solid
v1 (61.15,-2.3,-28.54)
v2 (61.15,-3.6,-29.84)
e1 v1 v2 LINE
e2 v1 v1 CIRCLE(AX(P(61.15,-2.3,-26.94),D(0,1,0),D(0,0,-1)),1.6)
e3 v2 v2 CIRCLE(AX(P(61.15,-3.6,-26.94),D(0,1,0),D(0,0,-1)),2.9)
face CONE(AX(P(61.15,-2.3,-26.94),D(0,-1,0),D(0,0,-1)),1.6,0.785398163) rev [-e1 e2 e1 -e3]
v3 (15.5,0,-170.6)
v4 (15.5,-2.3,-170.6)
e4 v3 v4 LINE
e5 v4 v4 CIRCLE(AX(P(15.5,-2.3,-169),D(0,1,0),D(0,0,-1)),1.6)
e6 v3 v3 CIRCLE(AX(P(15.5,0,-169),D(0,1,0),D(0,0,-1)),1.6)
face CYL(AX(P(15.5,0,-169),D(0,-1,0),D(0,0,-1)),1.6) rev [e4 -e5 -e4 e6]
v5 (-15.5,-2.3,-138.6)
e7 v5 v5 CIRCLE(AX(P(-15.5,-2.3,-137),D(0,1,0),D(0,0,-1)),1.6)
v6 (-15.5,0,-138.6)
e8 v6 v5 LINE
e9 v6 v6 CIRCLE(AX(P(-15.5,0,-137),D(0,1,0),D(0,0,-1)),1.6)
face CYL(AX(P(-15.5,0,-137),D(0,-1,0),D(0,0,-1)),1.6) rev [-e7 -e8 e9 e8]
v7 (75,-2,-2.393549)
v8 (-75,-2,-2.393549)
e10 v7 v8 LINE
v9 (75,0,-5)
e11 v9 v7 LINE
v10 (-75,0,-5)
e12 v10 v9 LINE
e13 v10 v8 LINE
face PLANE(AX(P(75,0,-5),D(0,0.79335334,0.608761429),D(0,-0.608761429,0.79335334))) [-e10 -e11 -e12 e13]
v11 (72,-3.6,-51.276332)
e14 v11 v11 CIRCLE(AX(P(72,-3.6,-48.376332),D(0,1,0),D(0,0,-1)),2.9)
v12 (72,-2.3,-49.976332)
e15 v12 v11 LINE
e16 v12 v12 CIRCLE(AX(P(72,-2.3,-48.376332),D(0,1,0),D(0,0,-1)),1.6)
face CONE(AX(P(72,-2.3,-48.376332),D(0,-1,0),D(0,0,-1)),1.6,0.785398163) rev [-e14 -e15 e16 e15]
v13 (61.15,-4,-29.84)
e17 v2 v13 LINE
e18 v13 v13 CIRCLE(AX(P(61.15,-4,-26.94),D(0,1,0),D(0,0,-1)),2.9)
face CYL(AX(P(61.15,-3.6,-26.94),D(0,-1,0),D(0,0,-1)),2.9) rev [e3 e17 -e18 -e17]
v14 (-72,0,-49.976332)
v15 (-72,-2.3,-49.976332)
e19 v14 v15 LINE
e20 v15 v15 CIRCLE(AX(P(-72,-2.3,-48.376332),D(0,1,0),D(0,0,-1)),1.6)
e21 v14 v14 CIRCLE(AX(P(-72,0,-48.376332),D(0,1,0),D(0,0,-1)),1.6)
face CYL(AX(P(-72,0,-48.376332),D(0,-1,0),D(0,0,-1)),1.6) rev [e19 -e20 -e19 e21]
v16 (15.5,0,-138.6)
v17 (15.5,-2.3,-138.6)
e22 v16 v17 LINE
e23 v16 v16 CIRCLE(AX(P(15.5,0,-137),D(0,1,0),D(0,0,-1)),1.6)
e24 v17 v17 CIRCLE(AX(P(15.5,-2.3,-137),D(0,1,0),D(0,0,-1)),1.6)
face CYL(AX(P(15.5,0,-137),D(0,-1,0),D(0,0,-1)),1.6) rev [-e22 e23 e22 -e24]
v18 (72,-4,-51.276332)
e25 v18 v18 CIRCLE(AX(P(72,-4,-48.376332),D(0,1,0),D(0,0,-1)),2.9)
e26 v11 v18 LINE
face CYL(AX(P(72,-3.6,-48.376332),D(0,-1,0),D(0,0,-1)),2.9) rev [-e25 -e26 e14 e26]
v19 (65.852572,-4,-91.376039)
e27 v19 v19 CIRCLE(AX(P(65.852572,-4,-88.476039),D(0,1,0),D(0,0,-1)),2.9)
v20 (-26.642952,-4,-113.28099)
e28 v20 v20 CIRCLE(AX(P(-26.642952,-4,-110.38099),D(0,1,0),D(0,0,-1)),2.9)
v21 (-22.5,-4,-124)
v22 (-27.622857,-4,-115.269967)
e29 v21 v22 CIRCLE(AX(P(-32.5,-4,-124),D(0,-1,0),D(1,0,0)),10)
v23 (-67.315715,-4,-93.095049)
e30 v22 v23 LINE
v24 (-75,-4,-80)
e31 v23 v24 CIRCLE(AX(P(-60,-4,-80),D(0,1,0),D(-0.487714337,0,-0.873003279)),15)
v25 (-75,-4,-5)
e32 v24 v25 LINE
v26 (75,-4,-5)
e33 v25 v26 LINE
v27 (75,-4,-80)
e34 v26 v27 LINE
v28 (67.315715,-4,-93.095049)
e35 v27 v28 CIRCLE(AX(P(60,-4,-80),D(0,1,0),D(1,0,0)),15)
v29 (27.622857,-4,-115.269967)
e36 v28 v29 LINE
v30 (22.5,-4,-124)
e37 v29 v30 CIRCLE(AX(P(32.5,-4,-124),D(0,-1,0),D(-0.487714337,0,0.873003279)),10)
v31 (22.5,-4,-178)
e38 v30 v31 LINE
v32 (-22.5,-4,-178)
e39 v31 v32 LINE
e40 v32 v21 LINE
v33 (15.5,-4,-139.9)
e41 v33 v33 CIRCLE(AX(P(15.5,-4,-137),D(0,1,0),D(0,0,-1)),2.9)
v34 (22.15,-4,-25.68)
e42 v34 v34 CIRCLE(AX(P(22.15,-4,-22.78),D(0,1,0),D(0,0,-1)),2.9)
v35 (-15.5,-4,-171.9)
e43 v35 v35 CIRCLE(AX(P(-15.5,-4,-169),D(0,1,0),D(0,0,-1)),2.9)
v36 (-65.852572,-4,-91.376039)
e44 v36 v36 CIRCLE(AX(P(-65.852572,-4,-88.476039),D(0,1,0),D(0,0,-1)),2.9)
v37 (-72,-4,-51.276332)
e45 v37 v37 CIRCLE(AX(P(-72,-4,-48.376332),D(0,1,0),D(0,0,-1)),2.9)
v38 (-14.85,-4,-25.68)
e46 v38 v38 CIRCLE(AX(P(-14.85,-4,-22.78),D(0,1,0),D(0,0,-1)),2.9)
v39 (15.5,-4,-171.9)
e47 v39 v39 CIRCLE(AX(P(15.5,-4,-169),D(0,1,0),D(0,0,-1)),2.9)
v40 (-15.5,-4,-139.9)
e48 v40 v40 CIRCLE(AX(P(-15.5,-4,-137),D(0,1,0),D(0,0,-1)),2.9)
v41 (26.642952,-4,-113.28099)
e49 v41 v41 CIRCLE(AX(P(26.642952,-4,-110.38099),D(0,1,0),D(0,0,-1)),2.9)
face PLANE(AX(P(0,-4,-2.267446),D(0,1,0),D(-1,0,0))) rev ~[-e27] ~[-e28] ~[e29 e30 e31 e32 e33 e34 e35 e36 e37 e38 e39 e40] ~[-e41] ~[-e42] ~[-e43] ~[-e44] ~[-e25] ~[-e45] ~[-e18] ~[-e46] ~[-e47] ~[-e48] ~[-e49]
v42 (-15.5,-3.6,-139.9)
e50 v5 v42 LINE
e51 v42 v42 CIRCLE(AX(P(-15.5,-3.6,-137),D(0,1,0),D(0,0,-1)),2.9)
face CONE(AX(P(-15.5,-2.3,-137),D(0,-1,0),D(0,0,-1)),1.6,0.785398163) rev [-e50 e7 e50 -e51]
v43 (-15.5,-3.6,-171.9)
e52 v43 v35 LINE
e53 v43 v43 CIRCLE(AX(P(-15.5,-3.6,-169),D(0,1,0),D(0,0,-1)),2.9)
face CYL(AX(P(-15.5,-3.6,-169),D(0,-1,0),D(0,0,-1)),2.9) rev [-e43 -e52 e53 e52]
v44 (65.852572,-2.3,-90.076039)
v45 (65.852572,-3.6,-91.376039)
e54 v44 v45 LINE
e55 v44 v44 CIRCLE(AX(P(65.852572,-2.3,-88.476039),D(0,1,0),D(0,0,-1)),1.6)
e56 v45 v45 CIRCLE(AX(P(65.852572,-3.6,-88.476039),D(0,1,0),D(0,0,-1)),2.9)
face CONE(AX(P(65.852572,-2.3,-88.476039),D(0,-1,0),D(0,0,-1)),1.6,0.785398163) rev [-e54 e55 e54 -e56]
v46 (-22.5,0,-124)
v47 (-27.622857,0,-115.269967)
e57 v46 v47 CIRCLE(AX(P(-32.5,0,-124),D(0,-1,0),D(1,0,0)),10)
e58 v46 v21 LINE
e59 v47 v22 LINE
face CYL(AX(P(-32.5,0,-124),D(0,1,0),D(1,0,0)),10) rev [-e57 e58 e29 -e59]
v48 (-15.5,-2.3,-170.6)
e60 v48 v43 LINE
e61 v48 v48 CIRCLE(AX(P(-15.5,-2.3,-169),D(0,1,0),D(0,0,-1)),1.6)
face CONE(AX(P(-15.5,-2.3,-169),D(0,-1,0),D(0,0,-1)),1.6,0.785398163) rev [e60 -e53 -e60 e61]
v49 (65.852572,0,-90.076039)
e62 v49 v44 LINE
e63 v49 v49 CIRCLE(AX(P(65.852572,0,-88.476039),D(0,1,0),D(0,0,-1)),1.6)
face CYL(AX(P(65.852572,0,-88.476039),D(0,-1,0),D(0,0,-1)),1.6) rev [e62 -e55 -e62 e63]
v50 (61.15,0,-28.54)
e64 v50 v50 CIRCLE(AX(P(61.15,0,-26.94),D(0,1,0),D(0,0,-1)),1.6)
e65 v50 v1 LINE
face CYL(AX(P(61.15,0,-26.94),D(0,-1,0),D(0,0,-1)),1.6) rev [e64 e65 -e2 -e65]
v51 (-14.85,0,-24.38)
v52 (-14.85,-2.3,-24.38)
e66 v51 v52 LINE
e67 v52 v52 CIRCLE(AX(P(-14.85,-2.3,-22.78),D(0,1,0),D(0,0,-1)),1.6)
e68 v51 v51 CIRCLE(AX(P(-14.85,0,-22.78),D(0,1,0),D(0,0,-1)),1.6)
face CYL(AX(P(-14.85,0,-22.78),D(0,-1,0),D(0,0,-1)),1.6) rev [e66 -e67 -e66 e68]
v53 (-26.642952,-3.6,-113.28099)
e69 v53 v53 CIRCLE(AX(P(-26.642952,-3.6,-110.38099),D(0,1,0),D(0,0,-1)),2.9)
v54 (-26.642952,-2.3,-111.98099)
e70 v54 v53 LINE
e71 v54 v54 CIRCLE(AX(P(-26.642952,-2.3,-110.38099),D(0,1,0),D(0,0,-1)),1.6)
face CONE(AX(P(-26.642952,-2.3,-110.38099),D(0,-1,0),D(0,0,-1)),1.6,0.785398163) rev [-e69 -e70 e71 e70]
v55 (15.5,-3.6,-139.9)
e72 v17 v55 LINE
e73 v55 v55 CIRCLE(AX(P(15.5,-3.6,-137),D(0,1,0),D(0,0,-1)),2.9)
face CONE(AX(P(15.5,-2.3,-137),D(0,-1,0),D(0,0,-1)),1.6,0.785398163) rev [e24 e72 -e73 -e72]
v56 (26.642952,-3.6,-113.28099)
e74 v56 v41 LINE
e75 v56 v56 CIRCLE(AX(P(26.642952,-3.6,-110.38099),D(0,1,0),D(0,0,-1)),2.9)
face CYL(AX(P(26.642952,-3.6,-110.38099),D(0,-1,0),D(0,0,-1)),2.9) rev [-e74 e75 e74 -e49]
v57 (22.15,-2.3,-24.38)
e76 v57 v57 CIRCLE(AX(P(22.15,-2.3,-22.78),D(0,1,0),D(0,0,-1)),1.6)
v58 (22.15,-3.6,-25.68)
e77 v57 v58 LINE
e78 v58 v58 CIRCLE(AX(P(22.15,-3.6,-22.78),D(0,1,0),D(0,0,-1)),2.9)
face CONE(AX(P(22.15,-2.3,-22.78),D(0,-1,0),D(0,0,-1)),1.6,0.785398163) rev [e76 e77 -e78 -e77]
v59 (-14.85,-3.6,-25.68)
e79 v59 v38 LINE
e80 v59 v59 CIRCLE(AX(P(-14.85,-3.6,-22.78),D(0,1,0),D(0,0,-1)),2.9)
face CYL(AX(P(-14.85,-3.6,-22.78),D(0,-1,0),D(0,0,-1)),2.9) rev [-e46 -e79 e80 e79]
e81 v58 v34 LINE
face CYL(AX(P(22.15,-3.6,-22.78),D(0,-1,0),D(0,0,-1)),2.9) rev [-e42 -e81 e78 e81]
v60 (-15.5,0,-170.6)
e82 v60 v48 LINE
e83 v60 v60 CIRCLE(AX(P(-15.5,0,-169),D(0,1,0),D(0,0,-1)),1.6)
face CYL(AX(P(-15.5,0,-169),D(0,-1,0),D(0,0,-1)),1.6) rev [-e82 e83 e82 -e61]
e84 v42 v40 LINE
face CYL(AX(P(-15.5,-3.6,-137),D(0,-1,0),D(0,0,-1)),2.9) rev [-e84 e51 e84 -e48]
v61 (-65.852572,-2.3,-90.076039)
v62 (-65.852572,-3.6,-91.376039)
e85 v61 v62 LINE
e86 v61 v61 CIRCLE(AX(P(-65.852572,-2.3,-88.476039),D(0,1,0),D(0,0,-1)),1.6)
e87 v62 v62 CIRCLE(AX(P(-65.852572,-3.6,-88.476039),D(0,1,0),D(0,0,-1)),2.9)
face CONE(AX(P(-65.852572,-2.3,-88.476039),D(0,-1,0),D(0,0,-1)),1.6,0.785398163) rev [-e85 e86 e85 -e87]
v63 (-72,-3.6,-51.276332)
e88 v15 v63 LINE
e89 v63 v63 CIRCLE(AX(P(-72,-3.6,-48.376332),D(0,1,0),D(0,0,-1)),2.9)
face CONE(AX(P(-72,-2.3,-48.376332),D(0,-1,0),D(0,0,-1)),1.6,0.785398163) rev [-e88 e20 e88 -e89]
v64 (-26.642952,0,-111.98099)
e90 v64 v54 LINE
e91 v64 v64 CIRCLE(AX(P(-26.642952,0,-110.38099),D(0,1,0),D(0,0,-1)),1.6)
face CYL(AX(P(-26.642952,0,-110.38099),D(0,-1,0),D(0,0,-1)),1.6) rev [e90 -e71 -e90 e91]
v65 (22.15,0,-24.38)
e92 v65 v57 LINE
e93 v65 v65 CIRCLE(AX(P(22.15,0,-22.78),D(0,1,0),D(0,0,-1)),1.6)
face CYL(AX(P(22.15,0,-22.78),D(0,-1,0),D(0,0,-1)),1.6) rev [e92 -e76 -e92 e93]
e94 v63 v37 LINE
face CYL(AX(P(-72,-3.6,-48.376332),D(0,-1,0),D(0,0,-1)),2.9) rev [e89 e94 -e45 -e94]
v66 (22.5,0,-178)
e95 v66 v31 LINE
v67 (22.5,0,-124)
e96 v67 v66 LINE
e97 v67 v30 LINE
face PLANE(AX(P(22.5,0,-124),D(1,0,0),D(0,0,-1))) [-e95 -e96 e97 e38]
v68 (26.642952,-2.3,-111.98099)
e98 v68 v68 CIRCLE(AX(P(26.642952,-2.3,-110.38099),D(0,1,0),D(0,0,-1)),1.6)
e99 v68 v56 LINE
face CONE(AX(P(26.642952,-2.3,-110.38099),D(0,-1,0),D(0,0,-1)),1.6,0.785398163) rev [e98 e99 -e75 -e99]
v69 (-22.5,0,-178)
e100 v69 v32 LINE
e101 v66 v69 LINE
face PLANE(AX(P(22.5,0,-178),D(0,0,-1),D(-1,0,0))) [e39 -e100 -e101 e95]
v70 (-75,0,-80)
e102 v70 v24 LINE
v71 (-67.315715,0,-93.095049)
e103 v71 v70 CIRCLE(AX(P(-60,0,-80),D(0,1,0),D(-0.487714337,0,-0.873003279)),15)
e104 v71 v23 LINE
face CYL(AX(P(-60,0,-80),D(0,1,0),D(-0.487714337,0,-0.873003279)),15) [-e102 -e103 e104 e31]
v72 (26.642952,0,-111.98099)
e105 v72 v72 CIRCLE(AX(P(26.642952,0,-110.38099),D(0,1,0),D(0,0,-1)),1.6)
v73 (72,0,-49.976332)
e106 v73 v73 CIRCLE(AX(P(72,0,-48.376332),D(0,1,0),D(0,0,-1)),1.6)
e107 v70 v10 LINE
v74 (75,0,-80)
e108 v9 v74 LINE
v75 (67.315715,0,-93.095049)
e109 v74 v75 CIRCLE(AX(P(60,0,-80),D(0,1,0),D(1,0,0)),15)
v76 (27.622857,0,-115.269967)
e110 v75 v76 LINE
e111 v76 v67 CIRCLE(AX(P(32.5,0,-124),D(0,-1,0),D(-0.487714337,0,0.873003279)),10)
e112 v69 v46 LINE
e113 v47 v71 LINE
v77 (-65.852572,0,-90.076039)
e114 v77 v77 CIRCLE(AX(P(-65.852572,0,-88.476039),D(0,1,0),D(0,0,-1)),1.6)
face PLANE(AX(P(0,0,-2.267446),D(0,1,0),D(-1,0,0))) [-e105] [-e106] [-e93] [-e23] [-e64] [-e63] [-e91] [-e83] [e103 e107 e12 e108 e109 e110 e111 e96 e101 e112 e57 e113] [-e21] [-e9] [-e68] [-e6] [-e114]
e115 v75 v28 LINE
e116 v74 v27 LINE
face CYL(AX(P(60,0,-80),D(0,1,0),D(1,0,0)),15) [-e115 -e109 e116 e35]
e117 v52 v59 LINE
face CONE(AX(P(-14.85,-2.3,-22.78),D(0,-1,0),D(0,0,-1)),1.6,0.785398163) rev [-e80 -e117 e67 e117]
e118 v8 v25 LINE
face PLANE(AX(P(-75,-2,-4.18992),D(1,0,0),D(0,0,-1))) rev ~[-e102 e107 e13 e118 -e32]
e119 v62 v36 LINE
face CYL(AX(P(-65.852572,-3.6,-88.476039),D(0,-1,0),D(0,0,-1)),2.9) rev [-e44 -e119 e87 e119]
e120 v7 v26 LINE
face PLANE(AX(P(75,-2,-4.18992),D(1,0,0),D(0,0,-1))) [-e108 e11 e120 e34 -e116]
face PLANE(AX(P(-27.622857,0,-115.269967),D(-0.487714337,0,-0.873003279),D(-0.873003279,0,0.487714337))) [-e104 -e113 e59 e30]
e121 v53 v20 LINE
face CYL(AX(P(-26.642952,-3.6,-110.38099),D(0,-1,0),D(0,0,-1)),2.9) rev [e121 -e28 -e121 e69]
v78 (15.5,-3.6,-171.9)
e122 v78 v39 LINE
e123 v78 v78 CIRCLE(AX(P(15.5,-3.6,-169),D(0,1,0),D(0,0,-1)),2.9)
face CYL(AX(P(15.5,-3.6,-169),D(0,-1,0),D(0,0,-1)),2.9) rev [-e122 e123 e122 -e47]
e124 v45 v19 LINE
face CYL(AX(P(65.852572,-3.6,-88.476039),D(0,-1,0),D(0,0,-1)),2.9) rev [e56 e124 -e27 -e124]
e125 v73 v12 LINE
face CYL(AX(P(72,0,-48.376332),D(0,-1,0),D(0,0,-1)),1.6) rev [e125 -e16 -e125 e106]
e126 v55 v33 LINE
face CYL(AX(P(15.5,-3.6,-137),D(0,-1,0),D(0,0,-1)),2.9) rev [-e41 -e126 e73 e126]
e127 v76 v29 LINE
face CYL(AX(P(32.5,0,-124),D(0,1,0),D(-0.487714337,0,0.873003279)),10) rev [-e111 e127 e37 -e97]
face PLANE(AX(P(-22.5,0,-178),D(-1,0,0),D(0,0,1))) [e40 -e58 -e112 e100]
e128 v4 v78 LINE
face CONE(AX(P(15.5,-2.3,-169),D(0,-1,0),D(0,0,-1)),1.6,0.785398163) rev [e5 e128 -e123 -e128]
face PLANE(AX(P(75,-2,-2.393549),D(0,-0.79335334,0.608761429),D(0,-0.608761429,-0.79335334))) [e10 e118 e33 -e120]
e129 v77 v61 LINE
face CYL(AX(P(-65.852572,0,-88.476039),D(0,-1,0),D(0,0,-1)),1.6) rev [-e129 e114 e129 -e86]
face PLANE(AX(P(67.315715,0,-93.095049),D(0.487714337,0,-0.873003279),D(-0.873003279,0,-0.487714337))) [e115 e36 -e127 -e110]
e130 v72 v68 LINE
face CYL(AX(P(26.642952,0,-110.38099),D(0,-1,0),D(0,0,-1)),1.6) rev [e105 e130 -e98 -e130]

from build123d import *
from build123d.topology import SkipClean

# Parameters (mm, degrees)
BOSS_EXTRU_1_DEPTH                          = 4
FRAISAGE_POUR_VIS_T_TE_FRAIS_E_M31_AT_COUNT = 2
FRAISAGE_POUR_VIS_T_TE_FRAIS_E_M31_AT_PITCH = 37
FRAISAGE_POUR_VIS_T_TE_FRAIS_E_M31_2_COUNT  = 2
FRAISAGE_POUR_VIS_T_TE_FRAIS_E_M31_2_PITCH  = 76.249233439
FRAISAGE_POUR_VIS_T_TE_FRAIS_E_M31_3_COUNT  = 2
FRAISAGE_POUR_VIS_T_TE_FRAIS_E_M31_3_PITCH  = 84.163802195
FRAISAGE_POUR_VIS_T_TE_FRAIS_E_M31_4_COUNT  = 2
FRAISAGE_POUR_VIS_T_TE_FRAIS_E_M31_4_PITCH  = 48.918299235
FRAISAGE_POUR_VIS_T_TE_FRAIS_E_M31_5_COUNT  = 2
FRAISAGE_POUR_VIS_T_TE_FRAIS_E_M31_5_PITCH  = 32
FRAISAGE_POUR_VIS_T_TE_FRAIS_E_M31_6_COUNT  = 2
FRAISAGE_POUR_VIS_T_TE_FRAIS_E_M31_6_PITCH  = 146.221444734
FRAISAGE_POUR_VIS_T_TE_FRAIS_E_M31_7_COUNT  = 2
FRAISAGE_POUR_VIS_T_TE_FRAIS_E_M31_7_PITCH  = 149.336569199
FRAISAGE_POUR_VIS_T_TE_FRAIS_E_M31_8_COUNT  = 2
FRAISAGE_POUR_VIS_T_TE_FRAIS_E_M31_8_PITCH  = 178.221185329
FRAISAGE_POUR_VIS_T_TE_FRAIS_E_M31_9_COUNT  = 2
FRAISAGE_POUR_VIS_T_TE_FRAIS_E_M31_9_PITCH  = 180.785759671
FRAISAGE_POUR_VIS_T_TE_FRAIS_E_M31_10_COUNT = 2
FRAISAGE_POUR_VIS_T_TE_FRAIS_E_M31_10_PITCH = 93.722010844
FRAISAGE_POUR_VIS_T_TE_FRAIS_E_M31_11_COUNT = 2
FRAISAGE_POUR_VIS_T_TE_FRAIS_E_M31_11_PITCH = 71.254220114
FRAISAGE_POUR_VIS_T_TE_FRAIS_E_M31_12_COUNT = 2
FRAISAGE_POUR_VIS_T_TE_FRAIS_E_M31_12_PITCH = 81.138523202
FRAISAGE_POUR_VIS_T_TE_FRAIS_E_M31_13_COUNT = 2
FRAISAGE_POUR_VIS_T_TE_FRAIS_E_M31_13_PITCH = 110.207887466
FRAISAGE_POUR_VIS_T_TE_FRAIS_E_M31_14_COUNT = 2
FRAISAGE_POUR_VIS_T_TE_FRAIS_E_M31_14_PITCH = 120.180990857
FRAISAGE_POUR_VIS_T_TE_FRAIS_E_M31_15_COUNT = 2
FRAISAGE_POUR_VIS_T_TE_FRAIS_E_M31_15_PITCH = 126.594083229
FRAISAGE_POUR_VIS_T_TE_FRAIS_E_M31_16_COUNT = 2
FRAISAGE_POUR_VIS_T_TE_FRAIS_E_M31_16_PITCH = 126.717880504
FRAISAGE_POUR_VIS_T_TE_FRAIS_E_M31_17_COUNT = 2
FRAISAGE_POUR_VIS_T_TE_FRAIS_E_M31_17_PITCH = 104.212570966
FRAISAGE_POUR_VIS_T_TE_FRAIS_E_M31_18_COUNT = 2
FRAISAGE_POUR_VIS_T_TE_FRAIS_E_M31_18_PITCH = 111.926492077
FRAISAGE_POUR_VIS_T_TE_FRAIS_E_M31_19_COUNT = 2
FRAISAGE_POUR_VIS_T_TE_FRAIS_E_M31_19_PITCH = 96.715892614
FRAISAGE_POUR_VIS_T_TE_FRAIS_E_M31_20_COUNT = 2
FRAISAGE_POUR_VIS_T_TE_FRAIS_E_M31_20_PITCH = 72.361814356
FRAISAGE_POUR_VIS_T_TE_FRAIS_E_M31_21_COUNT = 2
FRAISAGE_POUR_VIS_T_TE_FRAIS_E_M31_21_PITCH = 80.151308017
FRAISAGE_POUR_VIS_T_TE_FRAIS_E_M31_22_COUNT = 2
FRAISAGE_POUR_VIS_T_TE_FRAIS_E_M31_22_PITCH = 87.174955693
FRAISAGE_POUR_VIS_T_TE_FRAIS_E_M31_23_COUNT = 2
FRAISAGE_POUR_VIS_T_TE_FRAIS_E_M31_23_PITCH = 57.642630925
FRAISAGE_POUR_VIS_T_TE_FRAIS_E_M31_24_COUNT = 2
FRAISAGE_POUR_VIS_T_TE_FRAIS_E_M31_24_PITCH = 91.32999562
FRAISAGE_POUR_VIS_T_TE_FRAIS_E_M31_25_COUNT = 2
FRAISAGE_POUR_VIS_T_TE_FRAIS_E_M31_25_PITCH = 70.407159437
ENL_V_MAT_EXTRU_1_REACH                     = 195.197
ESQUISSE7_W                                 = 176.3
ESQUISSE7_H                                 = 4
ENL_V_MAT_EXTRU_1_DIRECTION_2_REACH         = 195.197
BOSS_EXTRU_2_DEPTH                          = 150


with BuildPart() as part:
    # Esquisse1 → Boss.-Extru.1 (new body)
    with BuildSketch(Plane.XZ):
        with BuildLine():
            Line((22.5, 171.3), (22.5, 117.3))
            ThreePointArc((22.5, 117.3), (24.261102018, 111.632499665), (28.924112009, 107.961208586))
            Line((28.924112009, 107.961208586), (65.363831986, 94.008187121))
            ThreePointArc((65.363831986, 94.008187121), (72.358346973, 88.501250502), (75, 80))
            Line((75, 80), (75, -80))
            ThreePointArc((75, -80), (72.937073199, -87.591583303), (67.31571506, -93.095049185))
            Line((67.31571506, -93.095049185), (27.622856627, -115.26996721))
            ThreePointArc((27.622856627, -115.26996721), (23.875284534, -118.938944464), (22.5, -124))
            Line((22.5, -124), (22.5, -178))
            Line((22.5, -178), (-22.5, -178))
            Line((-22.5, -178), (-22.5, -124))
            ThreePointArc((-22.5, -124), (-23.875284534, -118.938944464), (-27.622856627, -115.26996721))
            Line((-27.622856627, -115.26996721), (-67.31571506, -93.095049185))
            ThreePointArc((-67.31571506, -93.095049185), (-72.937073199, -87.591583303), (-75, -80))
            Line((-75, -80), (-75, 80))
            ThreePointArc((-75, 80), (-72.358346973, 88.501250502), (-65.363831986, 94.008187121))
            Line((-65.363831986, 94.008187121), (-28.924112009, 107.961208586))
            ThreePointArc((-28.924112009, 107.961208586), (-24.261102018, 111.632499665), (-22.5, 117.3))
            Line((-22.5, 117.3), (-22.5, 171.3))
            Line((-22.5, 171.3), (22.5, 171.3))
        make_face()
    extrude(amount=BOSS_EXTRU_1_DEPTH)

    # Esquisse2 → Fraisage pour vis à tête fraisée M31 (revolve, cut)
    with BuildSketch(Plane(origin=(-14.85, -4, 9.22), x_dir=(0, 0, -1), z_dir=(1, 0, 0))):
        Polygon((0, 0), (0, 4), (1.6, 4), (1.6, 1.7), (2.9, 0.4), (2.9, 0), align=None)
    fraisage_pour_vis_t_te_frais_e_m31 = revolve(axis=Axis((-14.85, -10.35, 9.22), (0, 1, 0)), mode=Mode.SUBTRACT)

    # Fraisage pour vis à tête fraisée M31 at: Fraisage pour vis à tête fraisée M31 ×2
    with Locations(*[(i * FRAISAGE_POUR_VIS_T_TE_FRAIS_E_M31_AT_PITCH, 0, 0) for i in range(1, FRAISAGE_POUR_VIS_T_TE_FRAIS_E_M31_AT_COUNT)]):
        add(fraisage_pour_vis_t_te_frais_e_m31, mode=Mode.SUBTRACT)

    # Fraisage pour vis _ t_te frais_e M31 2: Fraisage pour vis à tête fraisée M31 ×2
    with Locations(*[Vector(0.9967313318766692, 0, -0.08078769742579317) * (i * FRAISAGE_POUR_VIS_T_TE_FRAIS_E_M31_2_PITCH) for i in range(1, FRAISAGE_POUR_VIS_T_TE_FRAIS_E_M31_2_COUNT)]):
        add(fraisage_pour_vis_t_te_frais_e_m31, mode=Mode.SUBTRACT)

    # Fraisage pour vis _ t_te frais_e M31 3: Fraisage pour vis à tête fraisée M31 ×2
    with Locations(*[Vector(0.903001029153611, 0, -0.429638384397297) * (i * FRAISAGE_POUR_VIS_T_TE_FRAIS_E_M31_3_PITCH) for i in range(1, FRAISAGE_POUR_VIS_T_TE_FRAIS_E_M31_3_COUNT)]):
        add(fraisage_pour_vis_t_te_frais_e_m31, mode=Mode.SUBTRACT)

    # Fraisage pour vis _ t_te frais_e M31 4: Fraisage pour vis à tête fraisée M31 ×2
    with Locations(*[Vector(0.7563631724521444, 0, -0.6541519329315842) * (i * FRAISAGE_POUR_VIS_T_TE_FRAIS_E_M31_4_PITCH) for i in range(1, FRAISAGE_POUR_VIS_T_TE_FRAIS_E_M31_4_COUNT)]):
        add(fraisage_pour_vis_t_te_frais_e_m31, mode=Mode.SUBTRACT)

    # Fraisage pour vis _ t_te frais_e M31 5: Fraisage pour vis à tête fraisée M31 ×2
    with Locations(*[(0, 0, -i * FRAISAGE_POUR_VIS_T_TE_FRAIS_E_M31_5_PITCH) for i in range(1, FRAISAGE_POUR_VIS_T_TE_FRAIS_E_M31_5_COUNT)]):
        add(fraisage_pour_vis_t_te_frais_e_m31, mode=Mode.SUBTRACT)

    # Fraisage pour vis _ t_te frais_e M31 6: Fraisage pour vis à tête fraisée M31 ×2
    with Locations(*[Vector(-0.004445312390285126, 0, -0.9999901195500648) * (i * FRAISAGE_POUR_VIS_T_TE_FRAIS_E_M31_6_PITCH) for i in range(1, FRAISAGE_POUR_VIS_T_TE_FRAIS_E_M31_6_COUNT)]):
        add(fraisage_pour_vis_t_te_frais_e_m31, mode=Mode.SUBTRACT)

    # Fraisage pour vis _ t_te frais_e M31 7: Fraisage pour vis à tête fraisée M31 ×2
    with Locations(*[Vector(0.2032322033569929, 0, -0.9791305691881251) * (i * FRAISAGE_POUR_VIS_T_TE_FRAIS_E_M31_7_PITCH) for i in range(1, FRAISAGE_POUR_VIS_T_TE_FRAIS_E_M31_7_COUNT)]):
        add(fraisage_pour_vis_t_te_frais_e_m31, mode=Mode.SUBTRACT)

    # Fraisage pour vis _ t_te frais_e M31 8: Fraisage pour vis à tête fraisée M31 ×2
    with Locations(*[Vector(-0.003647153388643399, 0, -0.9999933491139628) * (i * FRAISAGE_POUR_VIS_T_TE_FRAIS_E_M31_8_PITCH) for i in range(1, FRAISAGE_POUR_VIS_T_TE_FRAIS_E_M31_8_COUNT)]):
        add(fraisage_pour_vis_t_te_frais_e_m31, mode=Mode.SUBTRACT)

    # Fraisage pour vis _ t_te frais_e M31 9: Fraisage pour vis à tête fraisée M31 ×2
    with Locations(*[Vector(0.16787826682338555, 0, -0.9858077335507042) * (i * FRAISAGE_POUR_VIS_T_TE_FRAIS_E_M31_9_PITCH) for i in range(1, FRAISAGE_POUR_VIS_T_TE_FRAIS_E_M31_9_COUNT)]):
        add(fraisage_pour_vis_t_te_frais_e_m31, mode=Mode.SUBTRACT)

    # Fraisage pour vis _ t_te frais_e M31 10: Fraisage pour vis à tête fraisée M31 ×2
    with Locations(*[Vector(-0.5140271894002647, 0, 0.8577738912774534) * (i * FRAISAGE_POUR_VIS_T_TE_FRAIS_E_M31_10_PITCH) for i in range(1, FRAISAGE_POUR_VIS_T_TE_FRAIS_E_M31_10_COUNT)]):
        add(fraisage_pour_vis_t_te_frais_e_m31, mode=Mode.SUBTRACT)

    # Fraisage pour vis _ t_te frais_e M31 11: Fraisage pour vis à tête fraisée M31 ×2
    with Locations(*[Vector(-0.8020577575406399, 0, 0.5972464763972075) * (i * FRAISAGE_POUR_VIS_T_TE_FRAIS_E_M31_11_PITCH) for i in range(1, FRAISAGE_POUR_VIS_T_TE_FRAIS_E_M31_11_COUNT)]):
        add(fraisage_pour_vis_t_te_frais_e_m31, mode=Mode.SUBTRACT)

    # Fraisage pour vis _ t_te frais_e M31 12: Fraisage pour vis à tête fraisée M31 ×2
    with Locations(*[Vector(-0.7043510005461847, 0, -0.7098518634402452) * (i * FRAISAGE_POUR_VIS_T_TE_FRAIS_E_M31_12_PITCH) for i in range(1, FRAISAGE_POUR_VIS_T_TE_FRAIS_E_M31_12_COUNT)]):
        add(fraisage_pour_vis_t_te_frais_e_m31, mode=Mode.SUBTRACT)

    # Fraisage pour vis _ t_te frais_e M31 13: Fraisage pour vis à tête fraisée M31 ×2
    with Locations(*[Vector(-0.4627851347160459, 0, -0.8864704840466214) * (i * FRAISAGE_POUR_VIS_T_TE_FRAIS_E_M31_13_PITCH) for i in range(1, FRAISAGE_POUR_VIS_T_TE_FRAIS_E_M31_13_COUNT)]):
        add(fraisage_pour_vis_t_te_frais_e_m31, mode=Mode.SUBTRACT)

    # Fraisage pour vis _ t_te frais_e M31 14: Fraisage pour vis à tête fraisée M31 ×2
    with Locations(*[Vector(-0.09812659935351496, 0, -0.9951739398212329) * (i * FRAISAGE_POUR_VIS_T_TE_FRAIS_E_M31_14_PITCH) for i in range(1, FRAISAGE_POUR_VIS_T_TE_FRAIS_E_M31_14_COUNT)]):
        add(fraisage_pour_vis_t_te_frais_e_m31, mode=Mode.SUBTRACT)

    # Fraisage pour vis _ t_te frais_e M31 15: Fraisage pour vis à tête fraisée M31 ×2
    with Locations(*[Vector(0.32776375389231355, 0, -0.9447597163482464) * (i * FRAISAGE_POUR_VIS_T_TE_FRAIS_E_M31_15_PITCH) for i in range(1, FRAISAGE_POUR_VIS_T_TE_FRAIS_E_M31_15_COUNT)]):
        add(fraisage_pour_vis_t_te_frais_e_m31, mode=Mode.SUBTRACT)

    # Fraisage pour vis _ t_te frais_e M31 16: Fraisage pour vis à tête fraisée M31 ×2
    with Locations(*[Vector(0.6368680704479339, 0, -0.770972801623978) * (i * FRAISAGE_POUR_VIS_T_TE_FRAIS_E_M31_16_PITCH) for i in range(1, FRAISAGE_POUR_VIS_T_TE_FRAIS_E_M31_16_COUNT)]):
        add(fraisage_pour_vis_t_te_frais_e_m31, mode=Mode.SUBTRACT)

    # Fraisage pour vis _ t_te frais_e M31 17: Fraisage pour vis à tête fraisée M31 ×2
    with Locations(*[Vector(0.8333927394254491, 0, -0.5526812298902014) * (i * FRAISAGE_POUR_VIS_T_TE_FRAIS_E_M31_17_PITCH) for i in range(1, FRAISAGE_POUR_VIS_T_TE_FRAIS_E_M31_17_COUNT)]):
        add(fraisage_pour_vis_t_te_frais_e_m31, mode=Mode.SUBTRACT)

    # Fraisage pour vis _ t_te frais_e M31 18: Fraisage pour vis à tête fraisée M31 ×2
    with Locations(*[Vector(0.6957750607010041, 0, 0.7182597475193178) * (i * FRAISAGE_POUR_VIS_T_TE_FRAIS_E_M31_18_PITCH) for i in range(1, FRAISAGE_POUR_VIS_T_TE_FRAIS_E_M31_18_COUNT)]):
        add(fraisage_pour_vis_t_te_frais_e_m31, mode=Mode.SUBTRACT)

    # Fraisage pour vis _ t_te frais_e M31 19: Fraisage pour vis à tête fraisée M31 ×2
    with Locations(*[Vector(0.8979909883776221, 0, 0.4400138461373474) * (i * FRAISAGE_POUR_VIS_T_TE_FRAIS_E_M31_19_PITCH) for i in range(1, FRAISAGE_POUR_VIS_T_TE_FRAIS_E_M31_19_COUNT)]):
        add(fraisage_pour_vis_t_te_frais_e_m31, mode=Mode.SUBTRACT)

    # Fraisage pour vis _ t_te frais_e M31 20: Fraisage pour vis à tête fraisée M31 ×2
    with Locations(*[Vector(-0.07117013366549435, 0, 0.9974641908730537) * (i * FRAISAGE_POUR_VIS_T_TE_FRAIS_E_M31_20_PITCH) for i in range(1, FRAISAGE_POUR_VIS_T_TE_FRAIS_E_M31_20_COUNT)]):
        add(fraisage_pour_vis_t_te_frais_e_m31, mode=Mode.SUBTRACT)

    # Fraisage pour vis _ t_te frais_e M31 21: Fraisage pour vis à tête fraisée M31 ×2
    with Locations(*[Vector(0.43480263593981594, 0, 0.9005257729680967) * (i * FRAISAGE_POUR_VIS_T_TE_FRAIS_E_M31_21_PITCH) for i in range(1, FRAISAGE_POUR_VIS_T_TE_FRAIS_E_M31_21_COUNT)]):
        add(fraisage_pour_vis_t_te_frais_e_m31, mode=Mode.SUBTRACT)

    # Fraisage pour vis _ t_te frais_e M31 22: Fraisage pour vis à tête fraisée M31 ×2
    with Locations(*[Vector(0.9962723732982764, 0, -0.08626330739439464) * (i * FRAISAGE_POUR_VIS_T_TE_FRAIS_E_M31_22_PITCH) for i in range(1, FRAISAGE_POUR_VIS_T_TE_FRAIS_E_M31_22_COUNT)]):
        add(fraisage_pour_vis_t_te_frais_e_m31, mode=Mode.SUBTRACT)

    # Fraisage pour vis _ t_te frais_e M31 23: Fraisage pour vis à tête fraisée M31 ×2
    with Locations(*[Vector(-0.9914537050534457, 0, -0.1304590002100094) * (i * FRAISAGE_POUR_VIS_T_TE_FRAIS_E_M31_23_PITCH) for i in range(1, FRAISAGE_POUR_VIS_T_TE_FRAIS_E_M31_23_COUNT)]):
        add(fraisage_pour_vis_t_te_frais_e_m31, mode=Mode.SUBTRACT)

    # Fraisage pour vis _ t_te frais_e M31 24: Fraisage pour vis à tête fraisée M31 ×2
    with Locations(*[Vector(0.7648089713089968, 0, 0.6442571205700983) * (i * FRAISAGE_POUR_VIS_T_TE_FRAIS_E_M31_24_PITCH) for i in range(1, FRAISAGE_POUR_VIS_T_TE_FRAIS_E_M31_24_COUNT)]):
        add(fraisage_pour_vis_t_te_frais_e_m31, mode=Mode.SUBTRACT)

    # Fraisage pour vis _ t_te frais_e M31 25: Fraisage pour vis à tête fraisée M31 ×2
    with Locations(*[Vector(0.9920866082150472, 0, 0.12555541326586997) * (i * FRAISAGE_POUR_VIS_T_TE_FRAIS_E_M31_25_PITCH) for i in range(1, FRAISAGE_POUR_VIS_T_TE_FRAIS_E_M31_25_COUNT)]):
        add(fraisage_pour_vis_t_te_frais_e_m31, mode=Mode.SUBTRACT)

    # Esquisse4 → Enlèvement de matière-Révolution1 (revolve, cut)
    with BuildSketch(Plane(origin=(15.5, 0, 0), x_dir=(0, 0, -1), z_dir=(1, 0, 0)), mode=Mode.PRIVATE) as enl_vement_de_mati_re_r_volution1_sk:
        Polygon((-130.442327245, 1.971907347), (-128.851092213, 1.804661806), (-129.269206066, -2.173425776), (-128.112214604, -3.602191242), (-128.217747018, -4.606265087), (-131.101860514, -4.303132543), align=None)
    enl_vement_de_mati_re_r_volution1 = revolve(enl_vement_de_mati_re_r_volution1_sk.sketch.rotate(Axis((15.5, 1.971907347, 130.442327245), (0, -0.9945218953682737, 0.10452846326764959)), 180), axis=Axis((15.5, 1.971907347, 130.442327245), (0, -0.9945218953682737, 0.10452846326764959)), mode=Mode.SUBTRACT)

    # Esquisse5 → Enlèvement de matière-Révolution2 (revolve, cut)
    with SkipClean():  # the faces are left unmerged after this step: merging them gives an invalid solid
        with BuildSketch(Plane(origin=(15.5, 0, 0), x_dir=(0, 0, -1), z_dir=(1, 0, 0)), mode=Mode.PRIVATE) as enl_vement_de_mati_re_r_volution2_sk:
            Polygon((-162.75554286, 0.668908774), (-161.164307827, 0.501663233), (-161.445258889, -2.171407565), (-160.284898614, -3.602571258), (-160.3301799, -4), (-160.399257711, -4.606288173), (-163.278185176, -4.303700703), align=None)
        enl_vement_de_mati_re_r_volution2 = revolve(enl_vement_de_mati_re_r_volution2_sk.sketch.rotate(Axis((15.5, 0.668908774, 162.75554286), (0, -0.9945218953682743, 0.10452846326764464)), 180), axis=Axis((15.5, 0.668908774, 162.75554286), (0, -0.9945218953682743, 0.10452846326764464)), mode=Mode.SUBTRACT)

    # Symétrie1: Enlèvement de matière-Révolution1, Enlèvement de matière-Révolution2 across plane
    with SkipClean():  # the faces are left unmerged after this step: merging them gives an invalid solid
        add(enl_vement_de_mati_re_r_volution1.mirror(Plane(origin=(0, 0, 0), x_dir=(0, 0, 1), z_dir=(1, 0, 0))), mode=Mode.SUBTRACT)
        add(enl_vement_de_mati_re_r_volution2.mirror(Plane(origin=(0, 0, 0), x_dir=(0, 0, 1), z_dir=(1, 0, 0))), mode=Mode.SUBTRACT)

    # Esquisse7 → Enlèv. mat.-Extru.1 (cut, up to next)
    with BuildSketch(Plane(origin=(0, 0, 0), x_dir=(0, 0, -1), z_dir=(1, 0, 0)), mode=Mode.PRIVATE) as enl_v_mat_extru_1_sk1:
        with Locations((-83.15, -2)):
            Rectangle(ESQUISSE7_W, ESQUISSE7_H)
    enl_v_mat_extru_1_tool1 = extrude(enl_v_mat_extru_1_sk1.sketch, amount=-ENL_V_MAT_EXTRU_1_REACH, mode=Mode.PRIVATE) & part.part
    add(enl_v_mat_extru_1_tool1.solids().sort_by_distance((0, -2, 83.15))[0], mode=Mode.SUBTRACT)

    # Esquisse7 → Enlèv. mat.-Extru.1 direction 2 (cut, up to next)
    with BuildSketch(Plane(origin=(0, 0, 0), x_dir=(0, 0, -1), z_dir=(1, 0, 0)), mode=Mode.PRIVATE) as enl_v_mat_extru_1_direction_2_sk1:
        with Locations((-83.15, -2)):
            Rectangle(ESQUISSE7_W, ESQUISSE7_H)
    enl_v_mat_extru_1_direction_2_tool1 = extrude(enl_v_mat_extru_1_direction_2_sk1.sketch, amount=ENL_V_MAT_EXTRU_1_DIRECTION_2_REACH, mode=Mode.PRIVATE) & part.part
    add(enl_v_mat_extru_1_direction_2_tool1.solids().sort_by_distance((0, -2, 83.15))[0], mode=Mode.SUBTRACT)

    # Esquisse8 → Boss.-Extru.2 (add)
    with BuildSketch(Plane(origin=(75, 0, 0), x_dir=(0, 0, -1), z_dir=(1, 0, 0))):
        Polygon((5, 0), (2.393549254, -2), (5, -4), align=None)
    extrude(amount=-BOSS_EXTRU_2_DEPTH)


solid = part.part
